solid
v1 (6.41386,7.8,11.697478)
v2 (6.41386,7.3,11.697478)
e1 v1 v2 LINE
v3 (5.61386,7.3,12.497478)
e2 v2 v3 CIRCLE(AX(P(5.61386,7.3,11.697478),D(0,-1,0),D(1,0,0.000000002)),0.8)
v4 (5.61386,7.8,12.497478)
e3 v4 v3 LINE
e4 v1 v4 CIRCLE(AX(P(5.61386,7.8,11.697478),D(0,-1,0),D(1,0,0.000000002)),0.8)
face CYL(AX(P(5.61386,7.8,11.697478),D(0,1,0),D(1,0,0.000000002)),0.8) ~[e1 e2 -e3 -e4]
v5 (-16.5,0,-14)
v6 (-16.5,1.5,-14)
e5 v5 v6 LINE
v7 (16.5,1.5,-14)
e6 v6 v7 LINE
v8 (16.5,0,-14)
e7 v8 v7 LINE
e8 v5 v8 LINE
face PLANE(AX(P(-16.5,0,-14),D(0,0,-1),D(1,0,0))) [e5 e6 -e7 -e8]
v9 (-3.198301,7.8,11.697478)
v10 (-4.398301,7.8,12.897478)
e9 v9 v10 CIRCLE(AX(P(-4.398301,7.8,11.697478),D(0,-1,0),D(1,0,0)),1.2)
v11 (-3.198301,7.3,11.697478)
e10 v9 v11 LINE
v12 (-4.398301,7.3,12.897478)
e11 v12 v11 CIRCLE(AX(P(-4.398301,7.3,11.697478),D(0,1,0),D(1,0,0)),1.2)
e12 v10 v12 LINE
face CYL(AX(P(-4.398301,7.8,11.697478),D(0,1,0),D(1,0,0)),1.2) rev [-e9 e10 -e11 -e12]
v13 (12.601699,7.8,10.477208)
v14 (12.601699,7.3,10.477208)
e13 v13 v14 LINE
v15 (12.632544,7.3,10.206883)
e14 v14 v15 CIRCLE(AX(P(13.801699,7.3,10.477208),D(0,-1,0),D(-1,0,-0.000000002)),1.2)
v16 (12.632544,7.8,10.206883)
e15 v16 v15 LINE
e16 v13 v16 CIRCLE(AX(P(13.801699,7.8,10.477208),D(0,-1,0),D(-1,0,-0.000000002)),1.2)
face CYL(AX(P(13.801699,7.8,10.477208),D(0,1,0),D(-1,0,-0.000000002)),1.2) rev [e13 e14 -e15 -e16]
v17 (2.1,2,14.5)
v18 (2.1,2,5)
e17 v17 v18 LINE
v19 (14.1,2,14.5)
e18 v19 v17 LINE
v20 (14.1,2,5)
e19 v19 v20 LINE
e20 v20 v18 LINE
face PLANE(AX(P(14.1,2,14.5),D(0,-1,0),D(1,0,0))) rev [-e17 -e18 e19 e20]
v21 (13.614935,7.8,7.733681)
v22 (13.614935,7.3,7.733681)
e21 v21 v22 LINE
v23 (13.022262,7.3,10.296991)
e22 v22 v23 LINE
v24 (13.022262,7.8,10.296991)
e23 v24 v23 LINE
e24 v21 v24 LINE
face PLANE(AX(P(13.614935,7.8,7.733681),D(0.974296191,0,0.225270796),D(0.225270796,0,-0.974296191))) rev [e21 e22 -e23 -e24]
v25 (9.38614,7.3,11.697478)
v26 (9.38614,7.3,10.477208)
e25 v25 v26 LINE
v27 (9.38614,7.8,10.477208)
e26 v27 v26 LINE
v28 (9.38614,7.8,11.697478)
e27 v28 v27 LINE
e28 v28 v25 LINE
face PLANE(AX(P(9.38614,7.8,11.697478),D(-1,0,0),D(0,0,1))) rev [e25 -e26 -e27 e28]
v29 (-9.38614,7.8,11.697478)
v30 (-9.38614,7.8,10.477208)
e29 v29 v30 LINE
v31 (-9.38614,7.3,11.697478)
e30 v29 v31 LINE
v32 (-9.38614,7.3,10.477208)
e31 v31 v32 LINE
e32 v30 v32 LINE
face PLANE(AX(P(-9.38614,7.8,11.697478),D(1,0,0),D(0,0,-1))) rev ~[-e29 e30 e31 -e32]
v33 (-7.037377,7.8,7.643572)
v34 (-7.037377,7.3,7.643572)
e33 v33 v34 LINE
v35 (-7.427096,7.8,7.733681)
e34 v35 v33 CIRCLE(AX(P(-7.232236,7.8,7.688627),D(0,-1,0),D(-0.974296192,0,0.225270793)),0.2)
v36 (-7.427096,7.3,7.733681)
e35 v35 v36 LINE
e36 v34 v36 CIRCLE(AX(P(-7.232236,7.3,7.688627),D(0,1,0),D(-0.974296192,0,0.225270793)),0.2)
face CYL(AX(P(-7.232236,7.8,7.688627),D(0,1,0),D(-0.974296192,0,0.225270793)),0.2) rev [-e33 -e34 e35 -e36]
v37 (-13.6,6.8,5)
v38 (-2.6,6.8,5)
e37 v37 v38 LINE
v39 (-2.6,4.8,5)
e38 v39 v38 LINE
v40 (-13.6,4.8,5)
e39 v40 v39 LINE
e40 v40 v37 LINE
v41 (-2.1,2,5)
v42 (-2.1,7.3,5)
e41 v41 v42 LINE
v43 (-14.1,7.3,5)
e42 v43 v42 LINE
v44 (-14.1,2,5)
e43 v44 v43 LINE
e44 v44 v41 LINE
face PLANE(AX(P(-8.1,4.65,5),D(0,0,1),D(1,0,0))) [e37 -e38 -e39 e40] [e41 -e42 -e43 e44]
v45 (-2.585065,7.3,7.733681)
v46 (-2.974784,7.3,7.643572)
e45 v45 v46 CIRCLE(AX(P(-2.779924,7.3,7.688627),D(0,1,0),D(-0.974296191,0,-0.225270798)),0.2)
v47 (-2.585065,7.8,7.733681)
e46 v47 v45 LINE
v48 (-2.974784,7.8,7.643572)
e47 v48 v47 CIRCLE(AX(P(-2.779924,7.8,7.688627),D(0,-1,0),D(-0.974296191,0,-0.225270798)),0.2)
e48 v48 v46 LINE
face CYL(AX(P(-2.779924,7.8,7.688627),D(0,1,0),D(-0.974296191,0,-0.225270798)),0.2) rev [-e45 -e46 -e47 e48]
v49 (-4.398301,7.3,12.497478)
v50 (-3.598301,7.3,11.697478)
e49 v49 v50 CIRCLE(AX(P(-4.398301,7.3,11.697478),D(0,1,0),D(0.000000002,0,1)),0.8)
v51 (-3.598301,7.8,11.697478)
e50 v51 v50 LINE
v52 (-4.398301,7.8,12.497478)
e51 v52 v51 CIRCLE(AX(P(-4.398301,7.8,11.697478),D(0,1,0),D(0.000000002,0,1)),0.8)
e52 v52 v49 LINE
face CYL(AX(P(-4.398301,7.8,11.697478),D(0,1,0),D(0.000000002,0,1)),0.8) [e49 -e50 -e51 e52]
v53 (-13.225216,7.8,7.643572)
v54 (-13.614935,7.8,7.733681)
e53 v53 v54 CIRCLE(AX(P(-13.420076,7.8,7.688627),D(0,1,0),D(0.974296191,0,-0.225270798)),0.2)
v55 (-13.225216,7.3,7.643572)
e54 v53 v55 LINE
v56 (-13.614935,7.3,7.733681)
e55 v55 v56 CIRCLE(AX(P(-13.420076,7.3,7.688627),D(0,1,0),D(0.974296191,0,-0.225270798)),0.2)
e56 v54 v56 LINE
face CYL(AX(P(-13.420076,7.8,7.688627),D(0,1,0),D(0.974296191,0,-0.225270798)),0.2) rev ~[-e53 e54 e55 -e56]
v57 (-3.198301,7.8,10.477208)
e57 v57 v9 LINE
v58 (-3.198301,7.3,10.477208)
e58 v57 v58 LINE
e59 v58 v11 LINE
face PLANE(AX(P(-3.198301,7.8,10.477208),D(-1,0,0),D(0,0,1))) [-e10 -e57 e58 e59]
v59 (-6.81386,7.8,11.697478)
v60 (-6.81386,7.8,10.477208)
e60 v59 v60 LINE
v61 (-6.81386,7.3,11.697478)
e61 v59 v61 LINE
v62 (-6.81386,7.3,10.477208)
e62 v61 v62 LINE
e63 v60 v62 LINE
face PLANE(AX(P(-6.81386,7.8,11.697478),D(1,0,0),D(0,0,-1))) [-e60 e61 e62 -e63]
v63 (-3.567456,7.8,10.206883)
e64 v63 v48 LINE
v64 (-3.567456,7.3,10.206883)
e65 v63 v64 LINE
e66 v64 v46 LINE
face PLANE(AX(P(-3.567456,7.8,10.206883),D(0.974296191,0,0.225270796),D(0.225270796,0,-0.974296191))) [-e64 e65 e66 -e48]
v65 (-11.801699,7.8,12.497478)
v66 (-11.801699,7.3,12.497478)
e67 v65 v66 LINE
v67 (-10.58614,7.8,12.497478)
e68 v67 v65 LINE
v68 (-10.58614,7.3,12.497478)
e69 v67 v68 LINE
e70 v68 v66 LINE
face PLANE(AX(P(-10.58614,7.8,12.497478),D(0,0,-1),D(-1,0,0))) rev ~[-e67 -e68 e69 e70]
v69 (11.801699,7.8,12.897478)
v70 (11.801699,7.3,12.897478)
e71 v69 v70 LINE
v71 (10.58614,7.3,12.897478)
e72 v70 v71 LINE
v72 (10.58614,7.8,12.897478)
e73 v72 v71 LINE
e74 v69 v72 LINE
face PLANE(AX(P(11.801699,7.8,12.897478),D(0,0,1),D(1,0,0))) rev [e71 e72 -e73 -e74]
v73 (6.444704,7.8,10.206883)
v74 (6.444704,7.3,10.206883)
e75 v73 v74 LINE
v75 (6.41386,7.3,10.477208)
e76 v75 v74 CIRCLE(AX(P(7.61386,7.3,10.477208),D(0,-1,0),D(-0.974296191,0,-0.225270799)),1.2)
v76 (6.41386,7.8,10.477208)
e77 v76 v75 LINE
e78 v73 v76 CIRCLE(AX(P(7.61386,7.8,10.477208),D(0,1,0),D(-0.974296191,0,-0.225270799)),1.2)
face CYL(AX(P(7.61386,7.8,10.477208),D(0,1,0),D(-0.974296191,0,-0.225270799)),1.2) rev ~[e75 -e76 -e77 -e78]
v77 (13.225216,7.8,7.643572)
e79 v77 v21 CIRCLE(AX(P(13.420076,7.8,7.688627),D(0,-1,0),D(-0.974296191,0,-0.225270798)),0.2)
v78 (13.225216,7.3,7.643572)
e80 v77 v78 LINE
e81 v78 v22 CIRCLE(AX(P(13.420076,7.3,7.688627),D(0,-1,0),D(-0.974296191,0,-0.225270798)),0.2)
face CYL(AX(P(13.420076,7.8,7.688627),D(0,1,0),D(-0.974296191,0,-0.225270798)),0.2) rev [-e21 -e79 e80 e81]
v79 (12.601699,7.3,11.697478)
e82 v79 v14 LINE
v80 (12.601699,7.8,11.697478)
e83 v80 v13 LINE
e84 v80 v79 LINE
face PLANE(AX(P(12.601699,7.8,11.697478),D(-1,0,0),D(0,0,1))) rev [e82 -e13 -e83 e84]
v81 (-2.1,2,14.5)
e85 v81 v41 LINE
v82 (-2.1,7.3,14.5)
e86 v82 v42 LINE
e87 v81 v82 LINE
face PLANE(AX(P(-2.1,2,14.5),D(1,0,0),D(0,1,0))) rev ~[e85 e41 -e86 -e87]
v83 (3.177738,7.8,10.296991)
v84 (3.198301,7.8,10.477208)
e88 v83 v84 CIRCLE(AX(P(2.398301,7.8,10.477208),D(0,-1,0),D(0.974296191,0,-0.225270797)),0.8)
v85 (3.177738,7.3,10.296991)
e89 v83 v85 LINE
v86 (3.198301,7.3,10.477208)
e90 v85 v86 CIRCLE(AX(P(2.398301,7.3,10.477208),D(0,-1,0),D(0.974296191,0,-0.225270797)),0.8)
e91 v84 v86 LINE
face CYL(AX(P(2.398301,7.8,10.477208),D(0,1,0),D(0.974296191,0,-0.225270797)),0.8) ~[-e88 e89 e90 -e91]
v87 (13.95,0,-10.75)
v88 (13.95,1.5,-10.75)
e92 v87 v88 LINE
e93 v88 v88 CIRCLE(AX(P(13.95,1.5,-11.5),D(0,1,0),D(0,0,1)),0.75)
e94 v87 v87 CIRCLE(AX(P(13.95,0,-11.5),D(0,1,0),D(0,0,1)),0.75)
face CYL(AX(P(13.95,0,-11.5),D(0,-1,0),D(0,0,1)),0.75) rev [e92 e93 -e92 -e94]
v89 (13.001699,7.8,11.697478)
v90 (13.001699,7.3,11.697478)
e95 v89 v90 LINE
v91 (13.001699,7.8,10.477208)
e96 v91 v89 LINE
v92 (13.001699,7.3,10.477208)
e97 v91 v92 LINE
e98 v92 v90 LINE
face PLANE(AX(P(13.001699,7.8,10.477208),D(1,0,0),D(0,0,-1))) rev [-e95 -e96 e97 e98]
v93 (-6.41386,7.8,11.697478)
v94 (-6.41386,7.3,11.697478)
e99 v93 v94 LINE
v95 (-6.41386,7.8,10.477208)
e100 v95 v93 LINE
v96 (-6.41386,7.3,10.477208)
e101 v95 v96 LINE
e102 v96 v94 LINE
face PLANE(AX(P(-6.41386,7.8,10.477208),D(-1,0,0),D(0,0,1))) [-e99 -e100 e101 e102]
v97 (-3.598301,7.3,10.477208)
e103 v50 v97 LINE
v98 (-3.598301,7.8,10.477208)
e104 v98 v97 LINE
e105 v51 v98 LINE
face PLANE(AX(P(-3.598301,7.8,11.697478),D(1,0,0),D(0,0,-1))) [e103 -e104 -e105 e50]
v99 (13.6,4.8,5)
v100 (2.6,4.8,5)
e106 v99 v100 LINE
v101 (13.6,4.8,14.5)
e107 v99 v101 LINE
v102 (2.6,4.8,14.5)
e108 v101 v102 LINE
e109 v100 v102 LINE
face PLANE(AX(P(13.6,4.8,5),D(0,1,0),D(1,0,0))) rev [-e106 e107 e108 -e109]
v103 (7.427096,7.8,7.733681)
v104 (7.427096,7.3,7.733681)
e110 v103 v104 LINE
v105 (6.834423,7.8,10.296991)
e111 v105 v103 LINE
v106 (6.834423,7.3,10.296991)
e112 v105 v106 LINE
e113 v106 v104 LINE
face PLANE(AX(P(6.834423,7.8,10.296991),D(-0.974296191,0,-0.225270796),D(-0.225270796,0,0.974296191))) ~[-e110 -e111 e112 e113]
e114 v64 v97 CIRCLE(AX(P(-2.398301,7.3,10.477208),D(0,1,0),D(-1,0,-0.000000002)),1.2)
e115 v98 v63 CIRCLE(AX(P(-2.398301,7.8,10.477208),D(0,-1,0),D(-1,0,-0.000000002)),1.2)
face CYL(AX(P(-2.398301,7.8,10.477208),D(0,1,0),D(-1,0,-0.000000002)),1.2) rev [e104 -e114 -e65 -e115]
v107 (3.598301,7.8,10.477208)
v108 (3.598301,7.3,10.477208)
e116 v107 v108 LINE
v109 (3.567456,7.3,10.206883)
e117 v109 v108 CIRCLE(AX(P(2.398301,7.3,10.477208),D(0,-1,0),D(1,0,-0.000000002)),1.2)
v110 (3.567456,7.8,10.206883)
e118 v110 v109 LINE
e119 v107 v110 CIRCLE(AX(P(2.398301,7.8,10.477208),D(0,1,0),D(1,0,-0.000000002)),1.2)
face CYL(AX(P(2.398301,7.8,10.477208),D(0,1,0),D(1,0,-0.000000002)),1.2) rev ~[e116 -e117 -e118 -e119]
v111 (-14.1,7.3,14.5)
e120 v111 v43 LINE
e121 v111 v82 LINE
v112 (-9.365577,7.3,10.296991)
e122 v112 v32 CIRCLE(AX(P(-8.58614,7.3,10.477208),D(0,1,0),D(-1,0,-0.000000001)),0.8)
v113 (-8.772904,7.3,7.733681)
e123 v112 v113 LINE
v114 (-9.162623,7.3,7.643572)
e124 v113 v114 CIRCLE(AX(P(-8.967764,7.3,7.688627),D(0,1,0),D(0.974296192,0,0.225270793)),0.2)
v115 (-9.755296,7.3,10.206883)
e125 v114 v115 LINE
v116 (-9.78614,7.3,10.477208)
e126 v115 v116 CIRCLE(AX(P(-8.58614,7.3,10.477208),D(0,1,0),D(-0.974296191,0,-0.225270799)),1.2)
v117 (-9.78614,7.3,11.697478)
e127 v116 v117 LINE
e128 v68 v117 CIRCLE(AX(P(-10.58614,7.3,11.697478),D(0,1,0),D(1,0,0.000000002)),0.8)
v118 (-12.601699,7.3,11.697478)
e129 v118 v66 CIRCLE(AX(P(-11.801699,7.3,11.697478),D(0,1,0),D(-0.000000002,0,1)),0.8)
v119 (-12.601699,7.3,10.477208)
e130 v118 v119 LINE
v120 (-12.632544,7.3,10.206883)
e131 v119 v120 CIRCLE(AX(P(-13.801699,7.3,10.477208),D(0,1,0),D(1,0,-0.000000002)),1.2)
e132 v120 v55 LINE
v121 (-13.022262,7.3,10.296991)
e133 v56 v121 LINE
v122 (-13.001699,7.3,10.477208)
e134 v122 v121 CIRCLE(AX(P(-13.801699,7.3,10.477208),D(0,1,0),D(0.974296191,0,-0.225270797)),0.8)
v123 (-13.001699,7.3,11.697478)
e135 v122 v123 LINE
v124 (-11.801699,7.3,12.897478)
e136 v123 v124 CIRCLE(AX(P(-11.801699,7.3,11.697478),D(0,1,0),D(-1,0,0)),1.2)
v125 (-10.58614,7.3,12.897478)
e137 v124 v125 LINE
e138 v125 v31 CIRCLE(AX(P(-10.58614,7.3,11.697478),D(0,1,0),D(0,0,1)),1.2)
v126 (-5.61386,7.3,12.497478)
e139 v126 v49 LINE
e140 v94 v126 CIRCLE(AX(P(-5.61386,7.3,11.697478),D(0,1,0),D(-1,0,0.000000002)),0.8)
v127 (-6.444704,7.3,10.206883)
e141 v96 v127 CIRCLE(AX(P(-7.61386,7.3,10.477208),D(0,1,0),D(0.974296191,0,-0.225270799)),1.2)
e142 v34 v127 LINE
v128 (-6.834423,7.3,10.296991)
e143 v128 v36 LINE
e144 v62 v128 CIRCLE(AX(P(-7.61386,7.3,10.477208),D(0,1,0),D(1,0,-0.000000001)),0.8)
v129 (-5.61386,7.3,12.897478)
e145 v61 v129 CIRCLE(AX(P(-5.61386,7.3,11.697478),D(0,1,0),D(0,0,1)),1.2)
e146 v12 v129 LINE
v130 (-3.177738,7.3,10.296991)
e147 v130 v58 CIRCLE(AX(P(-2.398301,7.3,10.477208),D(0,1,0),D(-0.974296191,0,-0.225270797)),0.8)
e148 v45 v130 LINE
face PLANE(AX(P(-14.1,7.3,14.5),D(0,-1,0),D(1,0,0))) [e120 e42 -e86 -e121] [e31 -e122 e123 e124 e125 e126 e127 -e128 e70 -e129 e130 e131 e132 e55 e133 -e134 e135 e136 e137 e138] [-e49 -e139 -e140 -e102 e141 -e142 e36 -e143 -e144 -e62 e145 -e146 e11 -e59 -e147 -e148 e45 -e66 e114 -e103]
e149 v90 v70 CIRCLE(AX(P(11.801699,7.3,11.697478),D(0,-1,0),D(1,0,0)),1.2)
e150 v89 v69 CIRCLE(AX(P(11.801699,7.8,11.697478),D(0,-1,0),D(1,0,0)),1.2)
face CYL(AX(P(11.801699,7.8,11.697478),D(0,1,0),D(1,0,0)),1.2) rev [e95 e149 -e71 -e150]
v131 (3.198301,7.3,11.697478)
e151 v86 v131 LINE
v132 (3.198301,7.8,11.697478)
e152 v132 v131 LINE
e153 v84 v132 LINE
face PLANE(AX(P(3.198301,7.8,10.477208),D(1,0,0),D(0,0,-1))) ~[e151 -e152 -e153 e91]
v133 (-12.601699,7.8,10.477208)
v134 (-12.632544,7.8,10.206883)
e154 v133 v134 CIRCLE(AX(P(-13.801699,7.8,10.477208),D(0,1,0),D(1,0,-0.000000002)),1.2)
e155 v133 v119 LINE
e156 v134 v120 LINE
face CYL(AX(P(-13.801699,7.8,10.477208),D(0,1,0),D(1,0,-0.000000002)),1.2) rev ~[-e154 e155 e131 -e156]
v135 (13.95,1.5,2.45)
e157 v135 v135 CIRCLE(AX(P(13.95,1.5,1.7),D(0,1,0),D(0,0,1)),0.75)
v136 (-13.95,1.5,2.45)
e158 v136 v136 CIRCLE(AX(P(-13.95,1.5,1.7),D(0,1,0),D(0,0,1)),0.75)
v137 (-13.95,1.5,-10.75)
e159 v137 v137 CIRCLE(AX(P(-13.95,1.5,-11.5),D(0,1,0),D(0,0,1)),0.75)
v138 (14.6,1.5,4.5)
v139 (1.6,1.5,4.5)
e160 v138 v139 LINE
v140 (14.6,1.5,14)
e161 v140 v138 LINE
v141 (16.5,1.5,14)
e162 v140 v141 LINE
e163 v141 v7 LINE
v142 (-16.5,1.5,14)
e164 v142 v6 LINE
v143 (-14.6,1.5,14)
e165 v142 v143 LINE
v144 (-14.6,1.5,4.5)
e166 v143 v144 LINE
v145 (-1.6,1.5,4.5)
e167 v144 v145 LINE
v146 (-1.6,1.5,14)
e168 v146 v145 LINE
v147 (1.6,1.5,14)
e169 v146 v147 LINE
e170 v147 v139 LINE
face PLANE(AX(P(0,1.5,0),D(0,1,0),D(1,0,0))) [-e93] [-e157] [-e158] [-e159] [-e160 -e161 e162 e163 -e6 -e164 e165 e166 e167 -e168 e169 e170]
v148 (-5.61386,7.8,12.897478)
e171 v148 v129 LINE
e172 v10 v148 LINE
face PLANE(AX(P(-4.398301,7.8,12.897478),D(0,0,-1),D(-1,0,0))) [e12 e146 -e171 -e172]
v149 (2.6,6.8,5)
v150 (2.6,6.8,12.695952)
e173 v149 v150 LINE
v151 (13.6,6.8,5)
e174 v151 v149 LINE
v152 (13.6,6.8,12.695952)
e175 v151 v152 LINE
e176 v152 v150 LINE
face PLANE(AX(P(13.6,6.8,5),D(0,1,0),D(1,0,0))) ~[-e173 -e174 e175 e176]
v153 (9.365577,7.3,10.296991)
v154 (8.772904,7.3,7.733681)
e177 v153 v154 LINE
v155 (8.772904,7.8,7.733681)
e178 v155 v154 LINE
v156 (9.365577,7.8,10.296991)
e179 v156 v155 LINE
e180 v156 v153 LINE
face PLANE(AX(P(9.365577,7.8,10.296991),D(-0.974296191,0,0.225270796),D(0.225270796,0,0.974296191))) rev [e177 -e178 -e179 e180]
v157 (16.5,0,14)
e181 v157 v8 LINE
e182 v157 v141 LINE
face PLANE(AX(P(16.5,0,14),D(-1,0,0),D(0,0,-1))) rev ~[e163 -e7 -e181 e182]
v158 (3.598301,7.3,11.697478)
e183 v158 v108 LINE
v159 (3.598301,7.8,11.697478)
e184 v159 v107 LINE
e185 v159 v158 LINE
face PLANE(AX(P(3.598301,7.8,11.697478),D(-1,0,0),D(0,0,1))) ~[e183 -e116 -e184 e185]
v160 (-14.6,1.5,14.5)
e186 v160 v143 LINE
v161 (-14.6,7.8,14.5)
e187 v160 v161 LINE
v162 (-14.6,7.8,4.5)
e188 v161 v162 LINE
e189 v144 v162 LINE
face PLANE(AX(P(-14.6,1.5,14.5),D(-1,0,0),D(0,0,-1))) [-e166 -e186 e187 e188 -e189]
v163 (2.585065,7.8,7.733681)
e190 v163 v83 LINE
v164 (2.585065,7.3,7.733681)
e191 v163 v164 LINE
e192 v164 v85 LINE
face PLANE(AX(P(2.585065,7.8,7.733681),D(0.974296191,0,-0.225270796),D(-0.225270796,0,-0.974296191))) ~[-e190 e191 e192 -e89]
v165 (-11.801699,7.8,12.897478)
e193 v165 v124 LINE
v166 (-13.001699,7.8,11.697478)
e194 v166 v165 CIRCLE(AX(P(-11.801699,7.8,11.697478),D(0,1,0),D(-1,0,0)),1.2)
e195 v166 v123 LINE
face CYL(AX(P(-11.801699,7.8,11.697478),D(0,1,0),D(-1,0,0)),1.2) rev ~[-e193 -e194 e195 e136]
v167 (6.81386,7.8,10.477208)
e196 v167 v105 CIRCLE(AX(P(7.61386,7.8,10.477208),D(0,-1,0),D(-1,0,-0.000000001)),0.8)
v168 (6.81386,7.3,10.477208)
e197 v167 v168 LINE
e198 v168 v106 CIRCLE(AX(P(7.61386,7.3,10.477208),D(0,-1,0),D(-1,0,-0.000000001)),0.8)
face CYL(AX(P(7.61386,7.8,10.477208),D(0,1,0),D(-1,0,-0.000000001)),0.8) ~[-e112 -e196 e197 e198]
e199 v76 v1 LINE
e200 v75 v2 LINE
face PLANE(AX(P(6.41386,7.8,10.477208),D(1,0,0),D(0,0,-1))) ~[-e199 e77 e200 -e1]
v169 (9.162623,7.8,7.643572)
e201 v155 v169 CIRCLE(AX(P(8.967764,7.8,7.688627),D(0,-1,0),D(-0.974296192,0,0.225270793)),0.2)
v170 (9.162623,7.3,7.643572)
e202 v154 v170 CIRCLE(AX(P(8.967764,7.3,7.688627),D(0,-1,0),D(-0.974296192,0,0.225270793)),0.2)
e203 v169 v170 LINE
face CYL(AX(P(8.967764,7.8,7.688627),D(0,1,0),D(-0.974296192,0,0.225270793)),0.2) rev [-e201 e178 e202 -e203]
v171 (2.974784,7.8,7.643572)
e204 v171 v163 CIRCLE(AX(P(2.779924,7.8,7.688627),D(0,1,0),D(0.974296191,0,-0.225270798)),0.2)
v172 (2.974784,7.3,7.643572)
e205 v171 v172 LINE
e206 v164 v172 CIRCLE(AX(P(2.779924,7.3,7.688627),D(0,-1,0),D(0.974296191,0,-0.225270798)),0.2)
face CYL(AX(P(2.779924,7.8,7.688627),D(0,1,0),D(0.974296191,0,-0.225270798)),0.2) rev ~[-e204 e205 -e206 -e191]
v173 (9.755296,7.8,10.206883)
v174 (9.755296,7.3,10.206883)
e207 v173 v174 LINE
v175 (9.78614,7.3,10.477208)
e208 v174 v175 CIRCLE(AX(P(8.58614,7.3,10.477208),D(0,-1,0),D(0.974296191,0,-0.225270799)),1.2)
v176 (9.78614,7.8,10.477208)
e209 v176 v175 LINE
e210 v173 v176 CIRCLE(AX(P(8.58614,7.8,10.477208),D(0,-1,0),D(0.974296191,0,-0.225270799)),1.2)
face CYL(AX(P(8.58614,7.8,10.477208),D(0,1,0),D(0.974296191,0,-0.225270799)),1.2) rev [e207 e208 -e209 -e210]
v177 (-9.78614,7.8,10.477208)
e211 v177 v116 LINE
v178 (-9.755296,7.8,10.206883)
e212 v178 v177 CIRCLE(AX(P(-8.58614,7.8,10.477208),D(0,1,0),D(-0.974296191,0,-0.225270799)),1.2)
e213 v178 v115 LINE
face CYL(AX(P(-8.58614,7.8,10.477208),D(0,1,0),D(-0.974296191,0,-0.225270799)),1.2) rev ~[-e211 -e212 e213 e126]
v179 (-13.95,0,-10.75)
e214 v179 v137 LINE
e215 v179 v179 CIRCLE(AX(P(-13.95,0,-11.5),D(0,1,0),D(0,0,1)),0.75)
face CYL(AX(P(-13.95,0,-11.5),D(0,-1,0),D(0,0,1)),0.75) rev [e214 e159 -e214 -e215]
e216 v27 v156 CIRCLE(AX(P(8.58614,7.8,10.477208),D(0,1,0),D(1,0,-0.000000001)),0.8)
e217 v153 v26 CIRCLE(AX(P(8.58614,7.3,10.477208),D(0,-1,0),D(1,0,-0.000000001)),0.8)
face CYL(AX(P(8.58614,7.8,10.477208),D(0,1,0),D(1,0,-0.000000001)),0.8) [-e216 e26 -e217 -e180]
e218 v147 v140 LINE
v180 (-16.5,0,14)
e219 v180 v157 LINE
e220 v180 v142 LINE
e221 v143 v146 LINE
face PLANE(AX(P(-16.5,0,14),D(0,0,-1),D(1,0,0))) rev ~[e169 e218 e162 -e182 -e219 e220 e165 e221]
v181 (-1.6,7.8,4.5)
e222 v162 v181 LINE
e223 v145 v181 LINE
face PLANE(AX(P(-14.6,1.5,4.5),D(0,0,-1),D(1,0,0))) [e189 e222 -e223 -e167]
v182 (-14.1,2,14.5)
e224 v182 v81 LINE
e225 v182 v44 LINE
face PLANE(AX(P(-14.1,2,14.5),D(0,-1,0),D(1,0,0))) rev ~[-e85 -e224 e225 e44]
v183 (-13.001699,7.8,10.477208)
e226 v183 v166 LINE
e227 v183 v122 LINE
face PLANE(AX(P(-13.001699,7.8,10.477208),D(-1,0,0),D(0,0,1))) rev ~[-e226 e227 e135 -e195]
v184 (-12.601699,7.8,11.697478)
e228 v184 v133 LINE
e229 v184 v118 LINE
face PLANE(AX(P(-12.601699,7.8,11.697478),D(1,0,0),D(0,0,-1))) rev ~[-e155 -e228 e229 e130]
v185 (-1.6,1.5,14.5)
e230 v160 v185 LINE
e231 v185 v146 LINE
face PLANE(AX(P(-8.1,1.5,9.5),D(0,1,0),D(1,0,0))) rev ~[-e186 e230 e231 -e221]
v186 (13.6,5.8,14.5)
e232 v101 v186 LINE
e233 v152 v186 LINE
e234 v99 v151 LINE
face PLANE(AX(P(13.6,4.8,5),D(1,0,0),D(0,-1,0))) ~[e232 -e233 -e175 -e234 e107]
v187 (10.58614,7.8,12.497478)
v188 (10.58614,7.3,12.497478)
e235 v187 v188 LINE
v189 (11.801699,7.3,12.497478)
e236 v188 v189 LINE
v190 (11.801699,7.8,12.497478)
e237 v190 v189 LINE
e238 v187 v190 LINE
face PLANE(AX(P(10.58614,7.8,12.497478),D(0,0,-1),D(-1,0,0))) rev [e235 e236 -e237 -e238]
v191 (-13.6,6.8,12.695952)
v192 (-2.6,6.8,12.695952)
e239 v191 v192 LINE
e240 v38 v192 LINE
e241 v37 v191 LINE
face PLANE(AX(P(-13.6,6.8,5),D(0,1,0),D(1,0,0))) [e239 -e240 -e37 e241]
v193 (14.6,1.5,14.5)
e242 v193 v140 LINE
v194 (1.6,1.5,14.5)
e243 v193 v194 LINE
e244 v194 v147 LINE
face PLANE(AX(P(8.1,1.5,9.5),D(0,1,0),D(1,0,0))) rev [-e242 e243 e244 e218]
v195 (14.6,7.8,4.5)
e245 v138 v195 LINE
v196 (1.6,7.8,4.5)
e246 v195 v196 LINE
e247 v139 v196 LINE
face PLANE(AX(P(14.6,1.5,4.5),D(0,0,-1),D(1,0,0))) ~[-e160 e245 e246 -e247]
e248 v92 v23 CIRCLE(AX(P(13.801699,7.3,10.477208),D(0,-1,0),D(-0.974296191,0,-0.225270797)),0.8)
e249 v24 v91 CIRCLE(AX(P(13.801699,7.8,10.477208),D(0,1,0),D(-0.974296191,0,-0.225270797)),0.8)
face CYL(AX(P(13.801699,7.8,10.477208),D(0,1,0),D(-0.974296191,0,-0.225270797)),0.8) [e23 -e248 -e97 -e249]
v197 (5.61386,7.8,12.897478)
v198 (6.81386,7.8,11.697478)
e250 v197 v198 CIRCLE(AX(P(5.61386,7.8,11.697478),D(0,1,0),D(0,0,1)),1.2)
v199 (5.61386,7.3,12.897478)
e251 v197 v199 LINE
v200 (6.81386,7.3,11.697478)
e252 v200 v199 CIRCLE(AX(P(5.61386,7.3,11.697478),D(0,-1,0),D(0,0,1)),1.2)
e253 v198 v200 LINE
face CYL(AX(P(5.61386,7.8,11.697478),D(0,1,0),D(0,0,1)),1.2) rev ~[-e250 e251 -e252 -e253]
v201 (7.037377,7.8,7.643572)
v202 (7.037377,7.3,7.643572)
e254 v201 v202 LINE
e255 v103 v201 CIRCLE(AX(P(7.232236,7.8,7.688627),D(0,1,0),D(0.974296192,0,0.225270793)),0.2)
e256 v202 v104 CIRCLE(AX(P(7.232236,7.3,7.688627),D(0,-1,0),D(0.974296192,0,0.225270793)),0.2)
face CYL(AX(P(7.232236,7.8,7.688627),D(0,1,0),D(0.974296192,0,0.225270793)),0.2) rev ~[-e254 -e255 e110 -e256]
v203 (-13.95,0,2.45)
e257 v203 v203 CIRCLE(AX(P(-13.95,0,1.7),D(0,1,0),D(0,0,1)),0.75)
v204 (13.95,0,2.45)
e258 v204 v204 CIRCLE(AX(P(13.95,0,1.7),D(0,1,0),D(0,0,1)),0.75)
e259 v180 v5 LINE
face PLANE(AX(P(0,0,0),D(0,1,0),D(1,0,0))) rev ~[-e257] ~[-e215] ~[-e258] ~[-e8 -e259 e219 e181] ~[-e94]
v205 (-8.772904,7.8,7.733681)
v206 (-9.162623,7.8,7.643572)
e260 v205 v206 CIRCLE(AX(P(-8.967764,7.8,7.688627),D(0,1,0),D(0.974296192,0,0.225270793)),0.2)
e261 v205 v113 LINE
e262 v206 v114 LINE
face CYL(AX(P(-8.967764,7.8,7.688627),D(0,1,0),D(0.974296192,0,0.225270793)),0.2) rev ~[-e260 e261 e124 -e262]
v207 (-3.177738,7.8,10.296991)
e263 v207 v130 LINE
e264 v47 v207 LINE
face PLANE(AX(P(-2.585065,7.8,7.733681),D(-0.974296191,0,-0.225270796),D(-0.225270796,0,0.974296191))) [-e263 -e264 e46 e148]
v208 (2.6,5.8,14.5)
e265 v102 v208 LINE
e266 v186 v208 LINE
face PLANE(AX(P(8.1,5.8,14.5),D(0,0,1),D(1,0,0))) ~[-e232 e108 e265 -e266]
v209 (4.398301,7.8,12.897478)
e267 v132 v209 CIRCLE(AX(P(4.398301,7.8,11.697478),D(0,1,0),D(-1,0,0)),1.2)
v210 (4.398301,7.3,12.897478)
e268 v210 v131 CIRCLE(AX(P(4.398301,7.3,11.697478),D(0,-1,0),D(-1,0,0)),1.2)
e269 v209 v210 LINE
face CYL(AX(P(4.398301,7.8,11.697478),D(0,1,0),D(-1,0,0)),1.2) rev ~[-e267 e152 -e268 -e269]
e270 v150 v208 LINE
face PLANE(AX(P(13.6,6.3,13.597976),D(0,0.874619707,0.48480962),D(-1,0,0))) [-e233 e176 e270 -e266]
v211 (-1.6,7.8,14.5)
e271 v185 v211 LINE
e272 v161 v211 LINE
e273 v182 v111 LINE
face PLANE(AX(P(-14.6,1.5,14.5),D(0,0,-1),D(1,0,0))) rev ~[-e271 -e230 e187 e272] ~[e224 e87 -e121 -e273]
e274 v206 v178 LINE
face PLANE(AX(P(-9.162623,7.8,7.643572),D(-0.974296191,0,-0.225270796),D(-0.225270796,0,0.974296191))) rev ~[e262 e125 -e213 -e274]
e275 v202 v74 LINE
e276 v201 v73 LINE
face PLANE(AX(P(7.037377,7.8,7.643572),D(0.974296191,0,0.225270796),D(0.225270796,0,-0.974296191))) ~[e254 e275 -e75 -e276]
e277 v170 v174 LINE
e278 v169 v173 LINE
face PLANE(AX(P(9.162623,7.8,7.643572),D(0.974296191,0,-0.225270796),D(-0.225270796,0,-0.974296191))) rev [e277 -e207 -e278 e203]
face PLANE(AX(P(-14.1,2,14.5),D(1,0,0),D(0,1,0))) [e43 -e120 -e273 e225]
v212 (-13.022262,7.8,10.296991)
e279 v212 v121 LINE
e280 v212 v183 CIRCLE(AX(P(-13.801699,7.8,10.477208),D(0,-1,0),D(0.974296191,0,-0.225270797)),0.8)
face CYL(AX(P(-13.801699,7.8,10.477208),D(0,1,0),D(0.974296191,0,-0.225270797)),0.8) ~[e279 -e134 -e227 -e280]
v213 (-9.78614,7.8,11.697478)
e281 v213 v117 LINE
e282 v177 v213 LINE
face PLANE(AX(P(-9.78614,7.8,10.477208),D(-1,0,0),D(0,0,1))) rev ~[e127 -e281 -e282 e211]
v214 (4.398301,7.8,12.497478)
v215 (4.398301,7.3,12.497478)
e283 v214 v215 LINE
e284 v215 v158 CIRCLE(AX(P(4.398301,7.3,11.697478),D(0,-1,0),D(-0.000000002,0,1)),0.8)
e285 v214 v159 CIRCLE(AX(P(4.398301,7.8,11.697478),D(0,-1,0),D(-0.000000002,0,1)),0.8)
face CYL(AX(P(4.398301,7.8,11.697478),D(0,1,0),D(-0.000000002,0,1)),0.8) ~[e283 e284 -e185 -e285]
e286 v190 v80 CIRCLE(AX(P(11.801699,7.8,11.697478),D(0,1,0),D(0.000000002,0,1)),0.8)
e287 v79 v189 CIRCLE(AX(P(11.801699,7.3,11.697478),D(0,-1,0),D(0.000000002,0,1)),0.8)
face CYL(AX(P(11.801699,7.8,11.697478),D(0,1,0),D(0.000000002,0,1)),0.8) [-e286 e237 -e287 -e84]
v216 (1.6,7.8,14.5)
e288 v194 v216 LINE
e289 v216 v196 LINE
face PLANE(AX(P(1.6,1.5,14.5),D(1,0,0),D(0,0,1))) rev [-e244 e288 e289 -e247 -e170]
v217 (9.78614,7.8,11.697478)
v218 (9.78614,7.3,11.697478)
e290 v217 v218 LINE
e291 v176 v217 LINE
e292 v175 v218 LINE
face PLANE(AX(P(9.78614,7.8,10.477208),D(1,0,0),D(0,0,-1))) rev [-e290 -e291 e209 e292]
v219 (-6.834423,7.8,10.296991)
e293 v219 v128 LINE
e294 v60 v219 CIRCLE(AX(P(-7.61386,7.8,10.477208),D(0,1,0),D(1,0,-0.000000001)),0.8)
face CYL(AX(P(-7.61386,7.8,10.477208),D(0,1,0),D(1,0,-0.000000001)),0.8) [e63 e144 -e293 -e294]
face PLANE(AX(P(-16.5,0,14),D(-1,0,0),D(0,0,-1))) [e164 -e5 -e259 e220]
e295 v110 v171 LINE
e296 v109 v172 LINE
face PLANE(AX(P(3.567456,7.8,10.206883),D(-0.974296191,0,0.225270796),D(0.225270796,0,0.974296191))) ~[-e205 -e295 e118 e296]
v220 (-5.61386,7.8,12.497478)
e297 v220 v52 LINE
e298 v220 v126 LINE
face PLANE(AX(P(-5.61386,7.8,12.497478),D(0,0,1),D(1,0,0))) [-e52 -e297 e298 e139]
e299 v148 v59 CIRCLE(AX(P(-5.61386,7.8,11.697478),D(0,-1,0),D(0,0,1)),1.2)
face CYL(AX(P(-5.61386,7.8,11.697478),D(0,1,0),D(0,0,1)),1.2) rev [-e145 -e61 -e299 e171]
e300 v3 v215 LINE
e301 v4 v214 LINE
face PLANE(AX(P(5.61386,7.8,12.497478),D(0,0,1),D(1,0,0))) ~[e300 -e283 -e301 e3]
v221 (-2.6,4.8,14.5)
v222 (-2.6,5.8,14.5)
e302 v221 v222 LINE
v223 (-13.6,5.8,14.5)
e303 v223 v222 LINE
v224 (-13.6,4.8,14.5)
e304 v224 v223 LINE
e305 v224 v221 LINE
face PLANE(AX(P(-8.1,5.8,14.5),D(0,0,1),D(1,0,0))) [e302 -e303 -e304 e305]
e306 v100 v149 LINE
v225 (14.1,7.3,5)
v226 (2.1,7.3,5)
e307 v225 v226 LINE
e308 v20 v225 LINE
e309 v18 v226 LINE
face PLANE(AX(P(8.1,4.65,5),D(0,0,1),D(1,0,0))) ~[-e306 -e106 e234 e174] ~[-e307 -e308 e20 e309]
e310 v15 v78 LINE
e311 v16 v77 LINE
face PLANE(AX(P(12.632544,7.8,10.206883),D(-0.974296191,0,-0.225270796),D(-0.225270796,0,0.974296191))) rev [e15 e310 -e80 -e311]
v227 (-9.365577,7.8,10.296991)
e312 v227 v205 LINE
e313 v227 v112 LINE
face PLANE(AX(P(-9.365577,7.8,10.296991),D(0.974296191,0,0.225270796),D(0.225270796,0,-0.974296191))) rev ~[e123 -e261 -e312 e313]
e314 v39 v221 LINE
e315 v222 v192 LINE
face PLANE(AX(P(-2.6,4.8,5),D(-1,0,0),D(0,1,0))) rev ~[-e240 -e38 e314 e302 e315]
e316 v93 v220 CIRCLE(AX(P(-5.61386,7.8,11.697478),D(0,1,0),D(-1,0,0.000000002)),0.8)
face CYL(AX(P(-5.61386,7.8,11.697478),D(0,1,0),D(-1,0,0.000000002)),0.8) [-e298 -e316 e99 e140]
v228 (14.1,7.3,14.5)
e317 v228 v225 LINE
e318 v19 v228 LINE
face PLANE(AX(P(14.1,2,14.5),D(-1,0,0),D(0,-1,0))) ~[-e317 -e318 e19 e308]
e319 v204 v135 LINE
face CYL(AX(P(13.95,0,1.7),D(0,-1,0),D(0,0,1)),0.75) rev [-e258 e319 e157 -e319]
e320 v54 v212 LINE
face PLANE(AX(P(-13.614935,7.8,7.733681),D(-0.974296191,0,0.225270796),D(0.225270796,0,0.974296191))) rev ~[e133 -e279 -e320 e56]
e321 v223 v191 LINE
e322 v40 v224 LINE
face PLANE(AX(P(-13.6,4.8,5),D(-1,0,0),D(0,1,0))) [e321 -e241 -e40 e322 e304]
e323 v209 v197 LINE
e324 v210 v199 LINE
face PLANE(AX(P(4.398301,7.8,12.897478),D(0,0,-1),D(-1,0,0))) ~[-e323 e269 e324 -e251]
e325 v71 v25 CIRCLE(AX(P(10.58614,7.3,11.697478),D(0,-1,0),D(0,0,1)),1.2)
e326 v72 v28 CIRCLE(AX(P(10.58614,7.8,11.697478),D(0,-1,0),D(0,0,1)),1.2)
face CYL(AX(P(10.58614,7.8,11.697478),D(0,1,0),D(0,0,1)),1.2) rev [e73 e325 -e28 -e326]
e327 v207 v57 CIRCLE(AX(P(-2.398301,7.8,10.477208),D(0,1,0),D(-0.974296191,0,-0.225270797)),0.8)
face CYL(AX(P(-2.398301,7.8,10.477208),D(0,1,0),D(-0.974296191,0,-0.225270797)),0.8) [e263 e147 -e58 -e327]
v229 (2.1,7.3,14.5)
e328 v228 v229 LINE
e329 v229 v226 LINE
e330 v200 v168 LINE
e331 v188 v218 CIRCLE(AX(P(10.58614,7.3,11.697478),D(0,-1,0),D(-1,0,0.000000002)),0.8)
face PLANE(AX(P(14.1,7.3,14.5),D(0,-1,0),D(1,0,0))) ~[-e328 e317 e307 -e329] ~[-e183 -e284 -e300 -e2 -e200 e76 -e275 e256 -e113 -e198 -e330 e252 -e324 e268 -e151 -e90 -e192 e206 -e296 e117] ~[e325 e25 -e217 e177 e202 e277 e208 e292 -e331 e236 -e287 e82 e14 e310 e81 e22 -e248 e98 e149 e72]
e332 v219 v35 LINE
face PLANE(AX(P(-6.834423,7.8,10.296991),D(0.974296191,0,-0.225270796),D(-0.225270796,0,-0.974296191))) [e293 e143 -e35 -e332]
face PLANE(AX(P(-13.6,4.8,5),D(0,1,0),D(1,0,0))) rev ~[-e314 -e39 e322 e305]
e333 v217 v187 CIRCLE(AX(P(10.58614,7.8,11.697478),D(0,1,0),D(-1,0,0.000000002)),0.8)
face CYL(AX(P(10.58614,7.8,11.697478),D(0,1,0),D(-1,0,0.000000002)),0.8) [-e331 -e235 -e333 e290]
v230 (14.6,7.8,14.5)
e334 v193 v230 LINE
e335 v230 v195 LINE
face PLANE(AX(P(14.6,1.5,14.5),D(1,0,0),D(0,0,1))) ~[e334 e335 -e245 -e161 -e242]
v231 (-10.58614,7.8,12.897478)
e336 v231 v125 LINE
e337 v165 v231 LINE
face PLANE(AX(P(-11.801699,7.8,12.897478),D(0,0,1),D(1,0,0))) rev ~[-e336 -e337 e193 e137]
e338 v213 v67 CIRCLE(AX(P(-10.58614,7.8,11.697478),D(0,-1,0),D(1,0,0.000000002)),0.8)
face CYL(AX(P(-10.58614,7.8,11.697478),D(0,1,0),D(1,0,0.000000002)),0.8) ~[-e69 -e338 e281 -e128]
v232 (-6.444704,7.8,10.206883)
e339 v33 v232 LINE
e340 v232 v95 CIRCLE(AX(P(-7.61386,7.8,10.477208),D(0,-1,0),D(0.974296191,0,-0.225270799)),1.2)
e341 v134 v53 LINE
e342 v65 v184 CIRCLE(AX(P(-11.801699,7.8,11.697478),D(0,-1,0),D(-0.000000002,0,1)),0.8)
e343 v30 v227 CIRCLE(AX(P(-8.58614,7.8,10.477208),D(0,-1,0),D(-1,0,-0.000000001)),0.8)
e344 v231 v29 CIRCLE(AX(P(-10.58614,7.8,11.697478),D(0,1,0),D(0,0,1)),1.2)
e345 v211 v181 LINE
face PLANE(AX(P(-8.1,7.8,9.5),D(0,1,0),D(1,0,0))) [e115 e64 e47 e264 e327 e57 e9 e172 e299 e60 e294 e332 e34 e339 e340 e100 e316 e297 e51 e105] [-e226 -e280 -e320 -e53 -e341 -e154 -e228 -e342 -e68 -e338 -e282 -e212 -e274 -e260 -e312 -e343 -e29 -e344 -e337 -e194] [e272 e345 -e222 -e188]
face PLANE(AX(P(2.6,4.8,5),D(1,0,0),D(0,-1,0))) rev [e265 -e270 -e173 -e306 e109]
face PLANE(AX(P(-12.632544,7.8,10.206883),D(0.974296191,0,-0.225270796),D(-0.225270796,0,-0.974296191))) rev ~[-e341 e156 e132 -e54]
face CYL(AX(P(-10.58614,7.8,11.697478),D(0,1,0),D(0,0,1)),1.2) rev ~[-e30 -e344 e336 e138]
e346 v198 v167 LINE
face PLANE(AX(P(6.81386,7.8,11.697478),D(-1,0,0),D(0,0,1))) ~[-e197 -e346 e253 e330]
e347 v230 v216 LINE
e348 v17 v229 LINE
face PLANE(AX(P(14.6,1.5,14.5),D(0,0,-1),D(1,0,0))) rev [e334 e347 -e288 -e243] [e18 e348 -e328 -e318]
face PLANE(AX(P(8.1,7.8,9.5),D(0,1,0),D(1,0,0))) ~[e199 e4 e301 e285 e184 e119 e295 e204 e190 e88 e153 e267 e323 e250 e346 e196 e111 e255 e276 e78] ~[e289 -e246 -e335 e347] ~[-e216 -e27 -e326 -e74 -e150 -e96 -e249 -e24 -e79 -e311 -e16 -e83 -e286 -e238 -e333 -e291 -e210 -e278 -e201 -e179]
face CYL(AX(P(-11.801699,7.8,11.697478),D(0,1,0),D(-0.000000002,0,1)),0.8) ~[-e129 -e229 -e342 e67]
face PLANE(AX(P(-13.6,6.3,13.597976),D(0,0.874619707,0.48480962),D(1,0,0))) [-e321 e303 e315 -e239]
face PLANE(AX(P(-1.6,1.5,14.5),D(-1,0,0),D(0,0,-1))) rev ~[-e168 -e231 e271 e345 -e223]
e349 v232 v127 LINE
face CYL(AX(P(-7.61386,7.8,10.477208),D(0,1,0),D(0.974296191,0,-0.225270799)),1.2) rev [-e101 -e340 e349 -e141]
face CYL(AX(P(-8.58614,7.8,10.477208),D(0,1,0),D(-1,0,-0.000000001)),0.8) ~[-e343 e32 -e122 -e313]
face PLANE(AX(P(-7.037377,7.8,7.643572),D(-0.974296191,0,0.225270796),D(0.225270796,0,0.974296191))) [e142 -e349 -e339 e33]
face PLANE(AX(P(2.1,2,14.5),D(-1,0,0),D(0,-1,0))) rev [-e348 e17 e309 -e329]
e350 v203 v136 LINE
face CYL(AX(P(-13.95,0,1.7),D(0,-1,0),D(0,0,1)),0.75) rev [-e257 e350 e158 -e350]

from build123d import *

# Parameters (mm, degrees)
SKETCH1_W                 = 33
SKETCH1_H                 = 28
SKETCH1_R                 = 0.75
BOSS_EXTRUDE1_DEPTH       = 1.5
SKETCH2_W                 = 13
SKETCH2_H                 = 10
BOSS_EXTRUDE2_DEPTH       = 6.3
SKETCH3_W                 = 12
SKETCH3_H                 = 5.3
CUT_EXTRUDE1_DEPTH        = 9.5
CUT_EXTRUDE2_REACH        = 25.31
SKETCH5_W                 = 11
SKETCH5_H                 = 2
BOSS_EXTRUDE3_DEPTH       = 9.5
CHAMFER1_SIZE             = 1
CHAMFER1_SIZE2            = 1.804047755
CHAMFER1_OF_MIRROR4_SIZE2 = 1
CHAMFER1_OF_MIRROR4_SIZE  = 1.804047755


with BuildPart() as part:
    # Sketch1 → Boss-Extrude1 (new body)
    with BuildSketch(Plane(origin=(0, 0, 0), x_dir=(1, 0, 0), z_dir=(0, 1, 0))):
        Rectangle(SKETCH1_W, SKETCH1_H)
        with Locations(Location((-13.95, 11.5, 0), (0, 0, 270))):
            Circle(SKETCH1_R, mode=Mode.SUBTRACT)
        with Locations(Location((13.95, 11.5, 0), (0, 0, 270))):
            Circle(SKETCH1_R, mode=Mode.SUBTRACT)
        with Locations(Location((13.95, -1.7, 0), (0, 0, 270))):
            Circle(SKETCH1_R, mode=Mode.SUBTRACT)
        with Locations(Location((-13.95, -1.7, 0), (0, 0, 270))):
            Circle(SKETCH1_R, mode=Mode.SUBTRACT)
    extrude(amount=BOSS_EXTRUDE1_DEPTH)

    # Sketch2 → Boss-Extrude2 (add)
    with BuildSketch(Plane(origin=(0, 1.5, 0), x_dir=(1, 0, 0), z_dir=(0, 1, 0))):
        with Locations((-8.1, -9.5)):
            Rectangle(SKETCH2_W, SKETCH2_H)
    boss_extrude2 = extrude(amount=BOSS_EXTRUDE2_DEPTH)

    # Sketch3 → Cut-Extrude1 (cut)
    with BuildSketch(Plane.XY.offset(14.5)):
        with Locations((-8.1, 4.65)):
            Rectangle(SKETCH3_W, SKETCH3_H)
    cut_extrude1 = extrude(amount=-CUT_EXTRUDE1_DEPTH, mode=Mode.SUBTRACT)

    # Sketch4 → Cut-Extrude2 (cut, up to next)
    with BuildSketch(Plane(origin=(0, 7.8, 0), x_dir=(1, 0, 0), z_dir=(0, 1, 0)), mode=Mode.PRIVATE) as cut_extrude2_sk1:
        with BuildLine():
            Line((-13.614934874, -7.733680754), (-13.022262005, -10.296990911))
            ThreePointArc((-13.022262005, -10.296990911), (-13.006856344, -10.386514555), (-13.001698958, -10.477207547))
            Line((-13.001698958, -10.477207547), (-13.001698958, -11.69747768))
            ThreePointArc((-13.001698958, -11.69747768), (-12.650227096, -12.546005817), (-11.801698958, -12.89747768))
            Line((-11.801698958, -12.89747768), (-10.586140238, -12.89747768))
            ThreePointArc((-10.586140238, -12.89747768), (-9.7376121, -12.546005817), (-9.386140238, -11.69747768))
            Line((-9.386140238, -11.69747768), (-9.386140238, -10.477207547))
            ThreePointArc((-9.386140238, -10.477207547), (-9.380982852, -10.386514555), (-9.365577191, -10.296990911))
            Line((-9.365577191, -10.296990911), (-8.772904322, -7.733680754))
            ThreePointArc((-8.772904322, -7.733680754), (-8.922709401, -7.493767357), (-9.162622799, -7.643572436))
            Line((-9.162622799, -7.643572436), (-9.755295667, -10.206882592))
            ThreePointArc((-9.755295667, -10.206882592), (-9.778404159, -10.34116806), (-9.786140238, -10.477207547))
            Line((-9.786140238, -10.477207547), (-9.786140238, -11.69747768))
            ThreePointArc((-9.786140238, -11.69747768), (-10.020454813, -12.263163104), (-10.586140238, -12.49747768))
            Line((-10.586140238, -12.49747768), (-11.801698958, -12.49747768))
            ThreePointArc((-11.801698958, -12.49747768), (-12.367384383, -12.263163104), (-12.601698958, -11.69747768))
            Line((-12.601698958, -11.69747768), (-12.601698958, -10.477207547))
            ThreePointArc((-12.601698958, -10.477207547), (-12.609435037, -10.34116806), (-12.632543529, -10.206882592))
            Line((-12.632543529, -10.206882592), (-13.225216397, -7.643572436))
            ThreePointArc((-13.225216397, -7.643572436), (-13.465129794, -7.493767357), (-13.614934874, -7.733680754))
        make_face()
    cut_extrude2_tool1 = extrude(cut_extrude2_sk1.sketch, amount=-CUT_EXTRUDE2_REACH, mode=Mode.PRIVATE) & part.part
    # Sketch4 → Cut-Extrude2 (cut, up to next)
    with BuildSketch(Plane(origin=(0, 7.8, 0), x_dir=(1, 0, 0), z_dir=(0, 1, 0)), mode=Mode.PRIVATE) as cut_extrude2_sk2:
        with BuildLine():
            Line((-7.037377201, -7.643572436), (-6.444704333, -10.206882592))
            ThreePointArc((-6.444704333, -10.206882592), (-6.421595841, -10.34116806), (-6.413859762, -10.477207547))
            Line((-6.413859762, -10.477207547), (-6.413859762, -11.69747768))
            ThreePointArc((-6.413859762, -11.69747768), (-6.179545187, -12.263163104), (-5.613859762, -12.49747768))
            Line((-5.613859762, -12.49747768), (-4.398301042, -12.49747768))
            ThreePointArc((-4.398301042, -12.49747768), (-3.832615617, -12.263163104), (-3.598301042, -11.69747768))
            Line((-3.598301042, -11.69747768), (-3.598301042, -10.477207547))
            ThreePointArc((-3.598301042, -10.477207547), (-3.590564963, -10.34116806), (-3.567456471, -10.206882592))
            Line((-3.567456471, -10.206882592), (-2.974783603, -7.643572436))
            ThreePointArc((-2.974783603, -7.643572436), (-2.734870206, -7.493767357), (-2.585065126, -7.733680754))
            Line((-2.585065126, -7.733680754), (-3.177737995, -10.296990911))
            ThreePointArc((-3.177737995, -10.296990911), (-3.193143656, -10.386514555), (-3.198301042, -10.477207547))
            Line((-3.198301042, -10.477207547), (-3.198301042, -11.69747768))
            ThreePointArc((-3.198301042, -11.69747768), (-3.549772904, -12.546005817), (-4.398301042, -12.89747768))
            Line((-4.398301042, -12.89747768), (-5.613859762, -12.89747768))
            ThreePointArc((-5.613859762, -12.89747768), (-6.4623879, -12.546005817), (-6.813859762, -11.69747768))
            Line((-6.813859762, -11.69747768), (-6.813859762, -10.477207547))
            ThreePointArc((-6.813859762, -10.477207547), (-6.819017148, -10.386514555), (-6.834422809, -10.296990911))
            Line((-6.834422809, -10.296990911), (-7.427095678, -7.733680754))
            ThreePointArc((-7.427095678, -7.733680754), (-7.277290599, -7.493767357), (-7.037377201, -7.643572436))
        make_face()
    cut_extrude2_tool2 = extrude(cut_extrude2_sk2.sketch, amount=-CUT_EXTRUDE2_REACH, mode=Mode.PRIVATE) & part.part
    cut_extrude2_1 = cut_extrude2_tool1.solids().sort_by_distance((-13.247802, 7.8, 8.998967))[0]
    add(cut_extrude2_1, mode=Mode.SUBTRACT)
    cut_extrude2_2 = cut_extrude2_tool2.solids().sort_by_distance((-6.741196, 7.8, 11.087343))[0]
    add(cut_extrude2_2, mode=Mode.SUBTRACT)
    cut_extrude2 = cut_extrude2_1 + cut_extrude2_2  # Cut-Extrude2 as one shape, for the pattern or mirror that repeats it

    # Sketch5 → Boss-Extrude3 (add)
    with BuildSketch(Plane.XY.offset(5)):
        with Locations((-8.1, 5.8)):
            Rectangle(SKETCH5_W, SKETCH5_H)
    boss_extrude3 = extrude(amount=BOSS_EXTRUDE3_DEPTH)

    # Chamfer1
    chamfer1_edges = [part.edges().sort_by_distance(p)[0] for p in [
        (-8.1, 6.8, 14.5),
    ]]
    chamfer1_side = [part.faces().sort_by_distance(p)[0] for p in [
        (-8.1, 5.8, 14.5),
    ]]
    chamfer(chamfer1_edges, length=CHAMFER1_SIZE, length2=CHAMFER1_SIZE2, reference=chamfer1_side[0])

    # Mirror4: Boss-Extrude2, Cut-Extrude1, Cut-Extrude2, Boss-Extrude3 across plane
    add(boss_extrude2.mirror(Plane(origin=(0, 0, 0), x_dir=(0, 0, 1), z_dir=(1, 0, 0))))
    add(cut_extrude1.mirror(Plane(origin=(0, 0, 0), x_dir=(0, 0, 1), z_dir=(1, 0, 0))), mode=Mode.SUBTRACT)
    add(cut_extrude2.mirror(Plane(origin=(0, 0, 0), x_dir=(0, 0, 1), z_dir=(1, 0, 0))), mode=Mode.SUBTRACT)
    add(boss_extrude3.mirror(Plane(origin=(0, 0, 0), x_dir=(0, 0, 1), z_dir=(1, 0, 0))))

    # Chamfer1 of Mirror4
    chamfer1_of_mirror4_edges = [part.edges().sort_by_distance(p)[0] for p in [
        (8.1, 6.8, 14.5),
    ]]
    chamfer(chamfer1_of_mirror4_edges, length=CHAMFER1_OF_MIRROR4_SIZE, length2=CHAMFER1_OF_MIRROR4_SIZE2)


solid = part.part
